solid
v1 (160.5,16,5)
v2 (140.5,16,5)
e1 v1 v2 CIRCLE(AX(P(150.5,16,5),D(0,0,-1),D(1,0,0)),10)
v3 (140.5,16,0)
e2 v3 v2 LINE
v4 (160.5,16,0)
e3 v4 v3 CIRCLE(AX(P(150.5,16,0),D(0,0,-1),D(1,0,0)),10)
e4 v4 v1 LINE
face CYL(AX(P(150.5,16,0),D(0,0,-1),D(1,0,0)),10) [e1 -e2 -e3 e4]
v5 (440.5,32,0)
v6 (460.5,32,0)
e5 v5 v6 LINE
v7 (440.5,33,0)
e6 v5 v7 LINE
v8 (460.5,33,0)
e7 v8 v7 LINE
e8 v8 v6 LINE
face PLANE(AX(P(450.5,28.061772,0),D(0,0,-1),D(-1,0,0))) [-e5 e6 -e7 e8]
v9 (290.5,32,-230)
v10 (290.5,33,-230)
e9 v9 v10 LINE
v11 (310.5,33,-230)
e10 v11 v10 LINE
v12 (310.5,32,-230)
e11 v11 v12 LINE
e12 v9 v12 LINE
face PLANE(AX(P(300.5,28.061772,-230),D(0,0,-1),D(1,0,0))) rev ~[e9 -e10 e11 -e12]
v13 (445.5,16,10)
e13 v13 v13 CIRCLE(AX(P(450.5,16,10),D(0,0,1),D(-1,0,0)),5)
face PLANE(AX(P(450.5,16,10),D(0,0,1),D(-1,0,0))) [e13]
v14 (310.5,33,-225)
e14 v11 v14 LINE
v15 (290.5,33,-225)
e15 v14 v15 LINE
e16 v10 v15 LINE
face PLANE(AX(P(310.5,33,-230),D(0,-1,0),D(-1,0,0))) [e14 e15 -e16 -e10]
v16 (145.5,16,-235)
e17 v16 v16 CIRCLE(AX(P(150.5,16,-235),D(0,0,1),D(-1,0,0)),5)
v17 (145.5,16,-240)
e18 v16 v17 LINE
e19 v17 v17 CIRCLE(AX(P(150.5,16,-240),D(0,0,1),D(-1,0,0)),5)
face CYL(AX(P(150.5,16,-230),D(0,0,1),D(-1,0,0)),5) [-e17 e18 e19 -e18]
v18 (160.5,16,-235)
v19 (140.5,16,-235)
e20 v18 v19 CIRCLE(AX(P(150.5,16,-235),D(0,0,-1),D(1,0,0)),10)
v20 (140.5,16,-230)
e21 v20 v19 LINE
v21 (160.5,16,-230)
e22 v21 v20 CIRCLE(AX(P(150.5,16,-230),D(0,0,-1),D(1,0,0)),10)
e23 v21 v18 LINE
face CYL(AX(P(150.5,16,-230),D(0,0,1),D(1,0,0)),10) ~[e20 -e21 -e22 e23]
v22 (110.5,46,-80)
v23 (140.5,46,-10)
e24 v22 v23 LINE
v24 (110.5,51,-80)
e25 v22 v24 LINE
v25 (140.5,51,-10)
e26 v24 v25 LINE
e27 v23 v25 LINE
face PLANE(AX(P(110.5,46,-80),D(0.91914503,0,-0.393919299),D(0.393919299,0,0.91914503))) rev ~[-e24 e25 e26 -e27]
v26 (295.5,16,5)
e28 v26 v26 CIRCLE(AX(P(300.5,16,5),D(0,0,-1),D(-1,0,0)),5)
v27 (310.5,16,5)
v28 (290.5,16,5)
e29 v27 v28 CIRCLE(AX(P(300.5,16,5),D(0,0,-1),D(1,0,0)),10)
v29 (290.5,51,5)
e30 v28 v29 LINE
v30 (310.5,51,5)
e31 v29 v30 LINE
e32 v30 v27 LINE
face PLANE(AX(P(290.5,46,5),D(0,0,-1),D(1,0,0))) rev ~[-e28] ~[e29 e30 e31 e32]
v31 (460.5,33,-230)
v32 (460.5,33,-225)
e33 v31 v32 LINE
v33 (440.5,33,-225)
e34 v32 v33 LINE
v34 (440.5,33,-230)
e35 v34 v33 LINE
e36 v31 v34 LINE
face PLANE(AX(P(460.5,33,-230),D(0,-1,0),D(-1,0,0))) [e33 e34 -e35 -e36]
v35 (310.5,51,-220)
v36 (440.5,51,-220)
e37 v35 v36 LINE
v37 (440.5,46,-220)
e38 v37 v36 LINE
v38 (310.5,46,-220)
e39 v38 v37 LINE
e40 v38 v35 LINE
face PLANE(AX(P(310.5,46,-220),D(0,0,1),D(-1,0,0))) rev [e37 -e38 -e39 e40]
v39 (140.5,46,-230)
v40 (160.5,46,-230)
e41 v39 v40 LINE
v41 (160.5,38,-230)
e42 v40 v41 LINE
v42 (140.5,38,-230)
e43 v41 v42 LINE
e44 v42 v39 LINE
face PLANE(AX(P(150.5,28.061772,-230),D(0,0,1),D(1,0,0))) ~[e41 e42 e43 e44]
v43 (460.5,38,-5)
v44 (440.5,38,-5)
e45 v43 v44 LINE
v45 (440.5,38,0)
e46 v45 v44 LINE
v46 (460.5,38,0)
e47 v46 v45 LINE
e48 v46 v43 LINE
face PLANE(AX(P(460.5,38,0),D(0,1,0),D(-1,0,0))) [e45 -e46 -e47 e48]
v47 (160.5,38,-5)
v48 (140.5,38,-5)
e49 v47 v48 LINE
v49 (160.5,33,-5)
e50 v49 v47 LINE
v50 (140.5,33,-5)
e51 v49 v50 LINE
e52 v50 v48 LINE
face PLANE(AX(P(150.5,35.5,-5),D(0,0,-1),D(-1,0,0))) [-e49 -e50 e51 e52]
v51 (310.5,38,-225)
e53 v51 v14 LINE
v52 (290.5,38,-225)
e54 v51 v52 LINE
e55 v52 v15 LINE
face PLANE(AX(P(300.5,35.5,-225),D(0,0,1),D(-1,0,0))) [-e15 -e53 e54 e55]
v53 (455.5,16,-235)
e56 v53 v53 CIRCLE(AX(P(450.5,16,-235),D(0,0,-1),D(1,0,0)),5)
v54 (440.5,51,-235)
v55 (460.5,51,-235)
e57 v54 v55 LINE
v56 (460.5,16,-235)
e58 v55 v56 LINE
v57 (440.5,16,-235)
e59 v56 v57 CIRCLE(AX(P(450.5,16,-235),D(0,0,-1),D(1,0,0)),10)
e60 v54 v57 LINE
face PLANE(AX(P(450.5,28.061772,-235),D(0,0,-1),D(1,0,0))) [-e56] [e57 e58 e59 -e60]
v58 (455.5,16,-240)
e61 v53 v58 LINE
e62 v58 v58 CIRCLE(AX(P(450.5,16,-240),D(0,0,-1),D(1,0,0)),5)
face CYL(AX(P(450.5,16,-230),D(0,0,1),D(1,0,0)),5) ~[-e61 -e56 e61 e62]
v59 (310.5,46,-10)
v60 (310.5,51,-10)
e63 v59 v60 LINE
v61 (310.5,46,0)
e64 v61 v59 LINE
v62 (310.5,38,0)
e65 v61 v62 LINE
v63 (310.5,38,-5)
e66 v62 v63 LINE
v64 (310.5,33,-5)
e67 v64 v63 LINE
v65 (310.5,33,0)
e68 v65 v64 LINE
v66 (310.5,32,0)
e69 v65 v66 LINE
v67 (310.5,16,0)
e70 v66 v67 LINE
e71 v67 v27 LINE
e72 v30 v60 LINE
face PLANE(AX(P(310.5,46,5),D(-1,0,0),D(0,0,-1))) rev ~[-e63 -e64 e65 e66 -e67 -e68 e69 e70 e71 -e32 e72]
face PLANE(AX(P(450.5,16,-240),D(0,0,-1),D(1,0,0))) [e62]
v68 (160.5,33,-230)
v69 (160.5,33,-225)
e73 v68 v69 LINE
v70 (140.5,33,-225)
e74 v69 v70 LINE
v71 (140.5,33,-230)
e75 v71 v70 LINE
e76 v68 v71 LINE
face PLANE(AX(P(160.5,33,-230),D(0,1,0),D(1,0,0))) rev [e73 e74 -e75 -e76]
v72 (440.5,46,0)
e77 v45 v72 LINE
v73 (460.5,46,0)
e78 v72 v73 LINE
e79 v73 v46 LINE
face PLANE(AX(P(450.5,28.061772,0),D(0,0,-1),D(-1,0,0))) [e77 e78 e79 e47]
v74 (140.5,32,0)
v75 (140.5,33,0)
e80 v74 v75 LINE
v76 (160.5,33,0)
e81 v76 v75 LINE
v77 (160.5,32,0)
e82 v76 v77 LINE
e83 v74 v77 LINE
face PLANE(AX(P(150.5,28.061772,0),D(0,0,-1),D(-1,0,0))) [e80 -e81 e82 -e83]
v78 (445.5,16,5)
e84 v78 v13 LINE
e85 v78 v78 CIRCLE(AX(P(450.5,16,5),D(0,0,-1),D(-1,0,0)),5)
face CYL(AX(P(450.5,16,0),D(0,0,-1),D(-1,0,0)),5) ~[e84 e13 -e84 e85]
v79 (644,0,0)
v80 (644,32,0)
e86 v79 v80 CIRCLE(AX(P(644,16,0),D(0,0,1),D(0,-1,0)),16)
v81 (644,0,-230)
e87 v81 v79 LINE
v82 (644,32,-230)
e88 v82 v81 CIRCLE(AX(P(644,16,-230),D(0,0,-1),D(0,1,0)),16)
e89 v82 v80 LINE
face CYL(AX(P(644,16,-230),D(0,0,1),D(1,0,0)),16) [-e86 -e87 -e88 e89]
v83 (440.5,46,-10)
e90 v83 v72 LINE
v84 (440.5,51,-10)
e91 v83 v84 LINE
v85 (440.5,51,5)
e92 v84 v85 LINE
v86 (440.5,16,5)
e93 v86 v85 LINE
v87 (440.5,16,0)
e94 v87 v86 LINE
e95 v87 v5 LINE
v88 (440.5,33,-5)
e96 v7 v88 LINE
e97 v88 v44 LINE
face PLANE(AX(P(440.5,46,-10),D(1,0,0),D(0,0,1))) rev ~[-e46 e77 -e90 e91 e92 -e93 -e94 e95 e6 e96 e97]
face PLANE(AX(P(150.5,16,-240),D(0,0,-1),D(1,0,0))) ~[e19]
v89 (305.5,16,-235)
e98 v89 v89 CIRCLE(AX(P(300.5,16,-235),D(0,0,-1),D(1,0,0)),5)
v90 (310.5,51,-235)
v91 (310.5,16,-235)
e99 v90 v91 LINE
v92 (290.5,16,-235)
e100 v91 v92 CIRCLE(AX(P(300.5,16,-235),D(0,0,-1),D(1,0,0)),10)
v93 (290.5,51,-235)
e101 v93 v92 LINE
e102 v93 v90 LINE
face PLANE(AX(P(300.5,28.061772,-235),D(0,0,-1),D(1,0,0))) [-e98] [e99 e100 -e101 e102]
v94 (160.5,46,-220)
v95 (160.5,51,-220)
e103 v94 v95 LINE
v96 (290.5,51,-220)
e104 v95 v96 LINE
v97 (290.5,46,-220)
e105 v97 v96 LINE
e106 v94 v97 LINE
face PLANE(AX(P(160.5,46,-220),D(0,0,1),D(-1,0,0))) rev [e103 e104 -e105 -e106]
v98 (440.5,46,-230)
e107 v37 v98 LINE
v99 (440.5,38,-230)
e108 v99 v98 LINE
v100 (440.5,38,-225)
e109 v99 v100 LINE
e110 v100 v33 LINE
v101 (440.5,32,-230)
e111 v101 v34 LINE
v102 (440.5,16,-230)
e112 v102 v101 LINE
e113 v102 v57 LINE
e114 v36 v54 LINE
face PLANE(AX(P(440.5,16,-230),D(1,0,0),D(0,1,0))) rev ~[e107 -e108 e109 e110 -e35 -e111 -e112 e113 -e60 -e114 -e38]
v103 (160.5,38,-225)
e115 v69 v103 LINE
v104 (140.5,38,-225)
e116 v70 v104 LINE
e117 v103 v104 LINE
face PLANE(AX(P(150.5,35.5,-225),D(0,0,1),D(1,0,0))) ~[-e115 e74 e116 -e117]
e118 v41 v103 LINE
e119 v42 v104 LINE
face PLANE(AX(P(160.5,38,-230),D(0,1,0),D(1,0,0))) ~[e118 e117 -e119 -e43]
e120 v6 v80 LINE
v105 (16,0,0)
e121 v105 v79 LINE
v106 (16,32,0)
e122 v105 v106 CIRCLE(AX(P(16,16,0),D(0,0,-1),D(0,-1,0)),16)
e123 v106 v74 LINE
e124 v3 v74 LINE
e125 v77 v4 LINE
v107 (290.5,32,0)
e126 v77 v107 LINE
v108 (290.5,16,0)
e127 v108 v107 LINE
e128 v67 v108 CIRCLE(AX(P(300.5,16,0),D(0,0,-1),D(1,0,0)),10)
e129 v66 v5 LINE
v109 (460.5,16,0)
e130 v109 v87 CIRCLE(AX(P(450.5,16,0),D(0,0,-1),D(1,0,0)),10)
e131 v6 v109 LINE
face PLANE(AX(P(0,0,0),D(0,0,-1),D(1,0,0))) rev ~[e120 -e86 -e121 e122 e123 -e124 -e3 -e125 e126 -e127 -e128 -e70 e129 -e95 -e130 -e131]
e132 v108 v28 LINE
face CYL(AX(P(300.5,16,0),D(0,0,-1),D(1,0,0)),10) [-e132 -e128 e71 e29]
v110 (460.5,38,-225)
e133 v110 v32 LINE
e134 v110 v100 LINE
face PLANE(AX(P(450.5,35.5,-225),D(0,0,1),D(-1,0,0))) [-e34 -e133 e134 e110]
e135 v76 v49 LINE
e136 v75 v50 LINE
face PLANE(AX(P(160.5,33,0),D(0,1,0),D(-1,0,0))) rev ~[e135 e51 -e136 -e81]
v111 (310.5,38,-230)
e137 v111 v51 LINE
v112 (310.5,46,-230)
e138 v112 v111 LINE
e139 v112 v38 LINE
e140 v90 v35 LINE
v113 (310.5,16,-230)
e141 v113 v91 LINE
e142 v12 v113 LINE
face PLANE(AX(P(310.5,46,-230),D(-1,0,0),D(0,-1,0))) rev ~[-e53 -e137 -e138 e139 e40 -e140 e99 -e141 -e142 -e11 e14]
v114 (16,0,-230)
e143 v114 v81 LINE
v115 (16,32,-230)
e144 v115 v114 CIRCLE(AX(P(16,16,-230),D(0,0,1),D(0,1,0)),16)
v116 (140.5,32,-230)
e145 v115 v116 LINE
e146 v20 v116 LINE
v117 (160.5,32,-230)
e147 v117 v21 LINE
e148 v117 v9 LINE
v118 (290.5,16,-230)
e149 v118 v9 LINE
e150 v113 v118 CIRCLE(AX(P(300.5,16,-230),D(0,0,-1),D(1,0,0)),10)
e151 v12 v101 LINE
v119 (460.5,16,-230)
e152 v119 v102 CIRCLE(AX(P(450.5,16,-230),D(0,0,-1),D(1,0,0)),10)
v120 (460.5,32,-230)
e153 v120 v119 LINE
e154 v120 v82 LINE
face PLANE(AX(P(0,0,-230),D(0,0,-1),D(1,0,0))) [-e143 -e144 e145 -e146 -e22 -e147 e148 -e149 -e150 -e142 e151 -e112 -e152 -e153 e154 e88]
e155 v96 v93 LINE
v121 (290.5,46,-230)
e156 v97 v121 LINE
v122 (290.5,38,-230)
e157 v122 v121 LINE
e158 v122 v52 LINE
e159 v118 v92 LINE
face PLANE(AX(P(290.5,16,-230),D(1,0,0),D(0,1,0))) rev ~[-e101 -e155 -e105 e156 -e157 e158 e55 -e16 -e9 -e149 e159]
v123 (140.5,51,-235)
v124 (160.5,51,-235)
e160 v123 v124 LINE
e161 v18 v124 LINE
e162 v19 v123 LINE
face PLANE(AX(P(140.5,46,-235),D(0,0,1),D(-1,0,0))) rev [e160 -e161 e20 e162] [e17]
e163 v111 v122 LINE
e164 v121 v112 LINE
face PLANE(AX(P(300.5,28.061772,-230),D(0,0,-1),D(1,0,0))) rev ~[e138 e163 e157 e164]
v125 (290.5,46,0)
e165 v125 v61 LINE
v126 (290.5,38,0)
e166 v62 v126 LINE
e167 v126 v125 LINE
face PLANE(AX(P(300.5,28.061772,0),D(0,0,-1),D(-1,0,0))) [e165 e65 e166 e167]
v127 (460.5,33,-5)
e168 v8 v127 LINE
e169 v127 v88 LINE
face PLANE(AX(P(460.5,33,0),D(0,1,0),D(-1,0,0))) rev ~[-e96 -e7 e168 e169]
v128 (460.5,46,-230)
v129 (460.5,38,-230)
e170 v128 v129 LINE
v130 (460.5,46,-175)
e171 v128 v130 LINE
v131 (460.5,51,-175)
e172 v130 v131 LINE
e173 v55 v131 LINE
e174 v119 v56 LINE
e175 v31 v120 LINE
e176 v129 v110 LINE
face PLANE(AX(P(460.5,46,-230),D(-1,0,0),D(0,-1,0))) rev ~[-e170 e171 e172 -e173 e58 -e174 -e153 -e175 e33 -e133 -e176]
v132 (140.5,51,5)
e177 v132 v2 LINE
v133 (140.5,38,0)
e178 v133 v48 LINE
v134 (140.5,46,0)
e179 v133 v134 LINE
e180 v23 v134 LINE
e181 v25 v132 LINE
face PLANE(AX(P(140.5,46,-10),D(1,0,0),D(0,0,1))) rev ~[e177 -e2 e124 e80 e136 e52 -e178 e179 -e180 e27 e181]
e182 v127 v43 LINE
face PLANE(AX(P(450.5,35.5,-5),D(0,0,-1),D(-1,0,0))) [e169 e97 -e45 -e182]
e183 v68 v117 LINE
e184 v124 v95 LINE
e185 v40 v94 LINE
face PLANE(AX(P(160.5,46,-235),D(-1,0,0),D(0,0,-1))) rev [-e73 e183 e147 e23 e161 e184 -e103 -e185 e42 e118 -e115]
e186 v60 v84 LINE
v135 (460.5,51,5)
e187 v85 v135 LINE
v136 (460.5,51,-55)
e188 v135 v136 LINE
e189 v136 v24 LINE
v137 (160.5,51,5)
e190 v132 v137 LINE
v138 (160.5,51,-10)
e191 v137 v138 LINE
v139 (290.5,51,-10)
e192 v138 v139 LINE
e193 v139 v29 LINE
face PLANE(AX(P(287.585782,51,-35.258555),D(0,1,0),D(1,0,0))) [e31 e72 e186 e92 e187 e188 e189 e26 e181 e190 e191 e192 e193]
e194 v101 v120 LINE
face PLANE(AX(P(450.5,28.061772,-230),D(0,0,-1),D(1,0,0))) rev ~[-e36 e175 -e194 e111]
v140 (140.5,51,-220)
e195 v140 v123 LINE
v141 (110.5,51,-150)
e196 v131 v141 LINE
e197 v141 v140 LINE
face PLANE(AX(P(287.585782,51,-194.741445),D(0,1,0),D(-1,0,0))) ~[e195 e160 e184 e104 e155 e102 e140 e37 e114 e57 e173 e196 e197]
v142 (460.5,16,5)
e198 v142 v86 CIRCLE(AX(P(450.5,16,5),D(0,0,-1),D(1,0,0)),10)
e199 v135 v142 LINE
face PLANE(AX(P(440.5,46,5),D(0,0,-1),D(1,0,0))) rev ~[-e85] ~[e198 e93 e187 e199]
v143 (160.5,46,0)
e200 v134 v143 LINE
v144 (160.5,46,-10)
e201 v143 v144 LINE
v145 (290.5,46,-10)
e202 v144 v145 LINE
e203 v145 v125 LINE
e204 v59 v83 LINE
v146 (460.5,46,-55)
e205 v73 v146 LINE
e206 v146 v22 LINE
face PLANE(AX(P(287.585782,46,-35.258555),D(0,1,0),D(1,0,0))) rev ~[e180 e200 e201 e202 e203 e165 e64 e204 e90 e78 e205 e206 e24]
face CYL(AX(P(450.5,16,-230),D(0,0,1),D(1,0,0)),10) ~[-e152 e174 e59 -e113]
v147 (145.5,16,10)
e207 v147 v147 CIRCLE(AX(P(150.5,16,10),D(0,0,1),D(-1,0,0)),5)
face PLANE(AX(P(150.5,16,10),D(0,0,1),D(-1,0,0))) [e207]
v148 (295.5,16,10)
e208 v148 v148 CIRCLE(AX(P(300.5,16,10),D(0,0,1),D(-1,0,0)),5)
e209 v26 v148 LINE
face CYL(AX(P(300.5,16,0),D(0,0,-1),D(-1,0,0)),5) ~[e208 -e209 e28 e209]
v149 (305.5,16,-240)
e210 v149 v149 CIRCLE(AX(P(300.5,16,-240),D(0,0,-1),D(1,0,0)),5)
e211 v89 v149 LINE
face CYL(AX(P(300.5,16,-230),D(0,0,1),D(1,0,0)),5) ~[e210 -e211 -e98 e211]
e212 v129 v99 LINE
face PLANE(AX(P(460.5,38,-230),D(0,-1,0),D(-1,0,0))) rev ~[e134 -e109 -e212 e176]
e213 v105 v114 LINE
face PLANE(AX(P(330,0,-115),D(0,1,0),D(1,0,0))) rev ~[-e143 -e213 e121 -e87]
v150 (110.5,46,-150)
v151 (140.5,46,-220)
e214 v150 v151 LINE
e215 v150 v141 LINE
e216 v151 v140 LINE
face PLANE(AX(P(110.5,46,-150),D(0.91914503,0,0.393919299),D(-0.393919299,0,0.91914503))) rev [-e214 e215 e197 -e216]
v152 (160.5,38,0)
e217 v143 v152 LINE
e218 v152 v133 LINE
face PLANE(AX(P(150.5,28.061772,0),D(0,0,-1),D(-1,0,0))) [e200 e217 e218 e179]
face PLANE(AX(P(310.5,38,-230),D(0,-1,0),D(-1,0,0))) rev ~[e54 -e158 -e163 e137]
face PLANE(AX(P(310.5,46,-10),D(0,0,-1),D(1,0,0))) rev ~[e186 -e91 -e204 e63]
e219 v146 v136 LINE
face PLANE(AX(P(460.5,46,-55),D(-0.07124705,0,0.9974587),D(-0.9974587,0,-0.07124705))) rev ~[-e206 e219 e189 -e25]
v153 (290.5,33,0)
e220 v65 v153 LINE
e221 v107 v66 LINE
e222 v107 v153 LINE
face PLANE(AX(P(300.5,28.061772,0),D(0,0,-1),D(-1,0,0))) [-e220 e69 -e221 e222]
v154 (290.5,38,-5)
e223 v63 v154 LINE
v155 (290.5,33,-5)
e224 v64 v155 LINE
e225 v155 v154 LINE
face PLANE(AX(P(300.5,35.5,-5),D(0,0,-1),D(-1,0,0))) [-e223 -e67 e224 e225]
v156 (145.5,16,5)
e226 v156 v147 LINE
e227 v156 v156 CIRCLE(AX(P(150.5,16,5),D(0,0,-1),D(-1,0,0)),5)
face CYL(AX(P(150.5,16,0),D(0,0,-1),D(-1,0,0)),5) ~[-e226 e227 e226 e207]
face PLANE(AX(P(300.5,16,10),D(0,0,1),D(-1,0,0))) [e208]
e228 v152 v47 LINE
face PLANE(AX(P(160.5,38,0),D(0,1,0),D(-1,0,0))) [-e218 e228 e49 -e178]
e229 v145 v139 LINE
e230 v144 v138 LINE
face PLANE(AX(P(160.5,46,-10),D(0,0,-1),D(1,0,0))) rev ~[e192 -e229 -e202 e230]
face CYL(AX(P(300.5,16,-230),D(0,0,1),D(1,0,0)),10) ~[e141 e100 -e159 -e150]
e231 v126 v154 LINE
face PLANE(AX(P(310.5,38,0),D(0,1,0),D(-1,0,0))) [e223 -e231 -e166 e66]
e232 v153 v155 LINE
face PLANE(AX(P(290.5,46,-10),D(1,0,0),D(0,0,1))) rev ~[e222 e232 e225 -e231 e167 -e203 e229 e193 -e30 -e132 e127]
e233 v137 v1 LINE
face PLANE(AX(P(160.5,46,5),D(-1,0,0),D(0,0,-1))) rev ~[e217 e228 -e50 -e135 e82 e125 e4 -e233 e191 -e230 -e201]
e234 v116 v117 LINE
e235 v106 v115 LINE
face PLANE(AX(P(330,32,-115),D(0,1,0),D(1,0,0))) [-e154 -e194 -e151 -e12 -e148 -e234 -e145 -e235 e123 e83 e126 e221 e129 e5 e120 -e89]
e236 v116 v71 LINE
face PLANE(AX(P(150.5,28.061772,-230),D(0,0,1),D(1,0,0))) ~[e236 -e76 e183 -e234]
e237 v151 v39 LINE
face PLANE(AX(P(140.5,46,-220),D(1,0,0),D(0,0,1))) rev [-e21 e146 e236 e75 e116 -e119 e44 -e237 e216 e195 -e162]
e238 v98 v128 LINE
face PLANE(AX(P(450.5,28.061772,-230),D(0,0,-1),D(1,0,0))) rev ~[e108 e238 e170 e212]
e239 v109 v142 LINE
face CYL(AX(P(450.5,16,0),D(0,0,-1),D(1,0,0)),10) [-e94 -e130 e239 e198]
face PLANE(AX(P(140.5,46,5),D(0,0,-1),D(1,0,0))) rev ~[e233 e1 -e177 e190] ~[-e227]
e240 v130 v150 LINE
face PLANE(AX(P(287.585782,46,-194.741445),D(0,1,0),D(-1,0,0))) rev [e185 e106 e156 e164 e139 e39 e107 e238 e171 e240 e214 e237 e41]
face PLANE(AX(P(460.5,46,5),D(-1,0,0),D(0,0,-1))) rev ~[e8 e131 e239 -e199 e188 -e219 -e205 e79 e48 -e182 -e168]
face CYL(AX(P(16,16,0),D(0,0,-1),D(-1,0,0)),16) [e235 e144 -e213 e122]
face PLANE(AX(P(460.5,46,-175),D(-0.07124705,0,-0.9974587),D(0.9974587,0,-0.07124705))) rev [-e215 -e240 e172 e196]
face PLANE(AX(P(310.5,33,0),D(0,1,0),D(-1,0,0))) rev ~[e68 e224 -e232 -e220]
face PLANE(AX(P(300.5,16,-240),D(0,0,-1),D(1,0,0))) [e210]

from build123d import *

# Parameters (mm, degrees)
ESBO_O1_W                      = 660
ESBO_O1_H                      = 230
RESSALTO_EXTRUS_O1_DEPTH       = 32
FILETE1_RADIUS                 = 16
FILETE1_LENGTH                 = 230
FILETE2_RADIUS                 = 16
FILETE2_LENGTH                 = 230
ESBO_O2_R                      = 5
RESSALTO_EXTRUS_O2_DEPTH       = 10
PADR_O_LINEAR1_COUNT           = 3
PADR_O_LINEAR1_PITCH           = 150
PADR_O_LINEAR1_COPY_1_SKETCH_R = 5
PADR_O_LINEAR1_COPY_1_DEPTH    = 10
PADR_O_LINEAR1_COPY_2_SKETCH_R = 5
PADR_O_LINEAR1_COPY_2_DEPTH    = 10
ESBO_O6_R                      = 5
RESSALTO_EXTRUS_O7_DEPTH       = 5
ESBO_O10_W                     = 20
ESBO_O10_H                     = 5
RESSALTO_EXTRUS_O11_DEPTH      = 5
PADR_O_LINEAR2_COUNT           = 3
PADR_O_LINEAR2_PITCH           = 150
RESSALTO_EXTRUS_O10_DEPTH      = 5
ESPELHAR2_COPY_1_SKETCH_R      = 5
ESPELHAR2_COPY_1_DEPTH         = 5
ESPELHAR2_COPY_2_SKETCH_R      = 5
ESPELHAR2_COPY_2_DEPTH         = 5
ESPELHAR2_COPY_3_SKETCH_W      = 20
ESPELHAR2_COPY_3_SKETCH_H      = 5
ESPELHAR2_COPY_3_DEPTH         = 5
ESPELHAR2_COPY_4_SKETCH_W      = 20
ESPELHAR2_COPY_4_SKETCH_H      = 5
ESPELHAR2_COPY_4_DEPTH         = 5


with BuildPart() as part:
    # Esboço1 → Ressalto-extrusão1 (new body)
    with BuildSketch(Plane(origin=(0, 0, 0), x_dir=(1, 0, 0), z_dir=(0, 1, 0))):
        with Locations((330, 115)):
            Rectangle(ESBO_O1_W, ESBO_O1_H)
    extrude(amount=RESSALTO_EXTRUS_O1_DEPTH)

    # Filete1: full round fillet: the end face becomes a half cylinder, R = half its width
    filete1_face = Plane((0, 16, -115), x_dir=(0, 0, -1), z_dir=(-1, 0, 0))  # on the end face: x along it, z out of the body
    filete1_slab = filete1_face.offset(-FILETE1_RADIUS / 2) * Box(FILETE1_LENGTH, 2 * FILETE1_RADIUS, FILETE1_RADIUS, mode=Mode.PRIVATE)  # the body's end, R deep
    filete1_round = Plane((16, 16, -115), x_dir=(-1, 0, 0), z_dir=(0, 0, -1)) * Cylinder(FILETE1_RADIUS, FILETE1_LENGTH, mode=Mode.PRIVATE)  # its axis R under the face
    add(filete1_slab - filete1_round, mode=Mode.SUBTRACT)

    # Filete2: full round fillet: the end face becomes a half cylinder, R = half its width
    filete2_face = Plane((660, 16, -115), x_dir=(0, 0, 1), z_dir=(1, 0, 0))  # on the end face: x along it, z out of the body
    filete2_slab = filete2_face.offset(-FILETE2_RADIUS / 2) * Box(FILETE2_LENGTH, 2 * FILETE2_RADIUS, FILETE2_RADIUS, mode=Mode.PRIVATE)  # the body's end, R deep
    filete2_round = Plane((644, 16, -115), x_dir=(1, 0, 0), z_dir=(0, 0, 1)) * Cylinder(FILETE2_RADIUS, FILETE2_LENGTH, mode=Mode.PRIVATE)  # its axis R under the face
    add(filete2_slab - filete2_round, mode=Mode.SUBTRACT)

    # Esboço2 → Ressalto-extrusão2 (add)
    with BuildSketch(Plane.XY):
        with Locations(Location((150.5, 16, 0), (0, 0, 180))):
            Circle(ESBO_O2_R)
    ressalto_extrus_o2 = extrude(amount=RESSALTO_EXTRUS_O2_DEPTH)

    # Espelhar1: Ressalto-extrusão2 across plane
    add(ressalto_extrus_o2.mirror(Plane.XY.offset(-115)))

    # Padrão linear1: Ressalto-extrusão2 ×3
    with Locations(*[(i * PADR_O_LINEAR1_PITCH, 0, 0) for i in range(1, PADR_O_LINEAR1_COUNT)]):
        add(ressalto_extrus_o2)

    # Padrão linear1 copy 1 sketch → Padrão linear1 copy 1 (add)
    with BuildSketch(Plane(origin=(150, 0, -230), x_dir=(1, 0, 0), z_dir=(0, 0, -1))):
        with Locations((150.5, -16)):
            Circle(PADR_O_LINEAR1_COPY_1_SKETCH_R)
    extrude(amount=PADR_O_LINEAR1_COPY_1_DEPTH)

    # Padrão linear1 copy 2 sketch → Padrão linear1 copy 2 (add)
    with BuildSketch(Plane(origin=(300, 0, -230), x_dir=(1, 0, 0), z_dir=(0, 0, -1))):
        with Locations((150.5, -16)):
            Circle(PADR_O_LINEAR1_COPY_2_SKETCH_R)
    extrude(amount=PADR_O_LINEAR1_COPY_2_DEPTH)

    # Esboço6 → Ressalto-extrusão7 (add)
    with BuildSketch(Plane.XY):
        with BuildLine():
            Line((140.5, 16), (140.5, 46))
            Line((140.5, 46), (160.5, 46))
            Line((160.5, 46), (160.5, 16))
            ThreePointArc((160.5, 16), (150.5, 6), (140.5, 16))
        make_face()
        with Locations((150.5, 16)):
            Circle(ESBO_O6_R, mode=Mode.SUBTRACT)
    ressalto_extrus_o7 = extrude(amount=RESSALTO_EXTRUS_O7_DEPTH)

    # Esboço10 → Ressalto-extrusão11 (add)
    with BuildSketch(Plane(origin=(0, 0, 0), x_dir=(-1, 0, 0), z_dir=(0, 0, -1))):
        with Locations((-150.5, 35.5)):
            Rectangle(ESBO_O10_W, ESBO_O10_H)
    ressalto_extrus_o11 = extrude(amount=RESSALTO_EXTRUS_O11_DEPTH)

    # Padrão linear2: Ressalto-extrusão7, Ressalto-extrusão11 ×3
    with Locations(*[(i * PADR_O_LINEAR2_PITCH, 0, 0) for i in range(1, PADR_O_LINEAR2_COUNT)]):
        add(ressalto_extrus_o7)
        add(ressalto_extrus_o11)

    # Esboço9 → Ressalto-extrusão10 (add)
    with BuildSketch(Plane(origin=(0, 46, 0), x_dir=(1, 0, 0), z_dir=(0, 1, 0))):
        Polygon((160.5, -5), (160.5, 10), (290.5, 10), (290.5, -5), (310.5, -5), (310.5, 10), (440.5, 10), (440.5, -5), (460.5, -5), (460.5, 55), (110.5, 80), (140.5, 10), (140.5, -5), align=None)
    ressalto_extrus_o10 = extrude(amount=RESSALTO_EXTRUS_O10_DEPTH)

    # Espelhar2: Ressalto-extrusão7, Ressalto-extrusão11, Ressalto-extrusão10 across plane
    add(ressalto_extrus_o7.mirror(Plane(origin=(0, 0, -115), x_dir=(1, 0, 0), z_dir=(0, 0, -1))))
    add(ressalto_extrus_o11.mirror(Plane(origin=(0, 0, -115), x_dir=(1, 0, 0), z_dir=(0, 0, -1))))
    add(ressalto_extrus_o10.mirror(Plane(origin=(0, 0, -115), x_dir=(1, 0, 0), z_dir=(0, 0, -1))))

    # Espelhar2 copy 1 sketch → Espelhar2 copy 1 (add)
    with BuildSketch(Plane(origin=(150, 0, -230), x_dir=(1, 0, 0), z_dir=(0, 0, -1))):
        with BuildLine():
            Line((140.5, -16), (140.5, -46))
            Line((140.5, -46), (160.5, -46))
            Line((160.5, -46), (160.5, -16))
            ThreePointArc((160.5, -16), (150.5, -6), (140.5, -16))
        make_face()
        with Locations((150.5, -16)):
            Circle(ESPELHAR2_COPY_1_SKETCH_R, mode=Mode.SUBTRACT)
    extrude(amount=ESPELHAR2_COPY_1_DEPTH)

    # Espelhar2 copy 2 sketch → Espelhar2 copy 2 (add)
    with BuildSketch(Plane(origin=(300, 0, -230), x_dir=(1, 0, 0), z_dir=(0, 0, -1))):
        with BuildLine():
            Line((140.5, -16), (140.5, -46))
            Line((140.5, -46), (160.5, -46))
            Line((160.5, -46), (160.5, -16))
            ThreePointArc((160.5, -16), (150.5, -6), (140.5, -16))
        make_face()
        with Locations((150.5, -16)):
            Circle(ESPELHAR2_COPY_2_SKETCH_R, mode=Mode.SUBTRACT)
    extrude(amount=ESPELHAR2_COPY_2_DEPTH)

    # Espelhar2 copy 3 sketch → Espelhar2 copy 3 (add)
    with BuildSketch(Plane(origin=(150, 0, -230), x_dir=(-1, 0, 0), z_dir=(0, 0, 1))):
        with Locations((-150.5, -35.5)):
            Rectangle(ESPELHAR2_COPY_3_SKETCH_W, ESPELHAR2_COPY_3_SKETCH_H)
    extrude(amount=ESPELHAR2_COPY_3_DEPTH)

    # Espelhar2 copy 4 sketch → Espelhar2 copy 4 (add)
    with BuildSketch(Plane(origin=(300, 0, -230), x_dir=(-1, 0, 0), z_dir=(0, 0, 1))):
        with Locations((-150.5, -35.5)):
            Rectangle(ESPELHAR2_COPY_4_SKETCH_W, ESPELHAR2_COPY_4_SKETCH_H)
    extrude(amount=ESPELHAR2_COPY_4_DEPTH)


solid = part.part
